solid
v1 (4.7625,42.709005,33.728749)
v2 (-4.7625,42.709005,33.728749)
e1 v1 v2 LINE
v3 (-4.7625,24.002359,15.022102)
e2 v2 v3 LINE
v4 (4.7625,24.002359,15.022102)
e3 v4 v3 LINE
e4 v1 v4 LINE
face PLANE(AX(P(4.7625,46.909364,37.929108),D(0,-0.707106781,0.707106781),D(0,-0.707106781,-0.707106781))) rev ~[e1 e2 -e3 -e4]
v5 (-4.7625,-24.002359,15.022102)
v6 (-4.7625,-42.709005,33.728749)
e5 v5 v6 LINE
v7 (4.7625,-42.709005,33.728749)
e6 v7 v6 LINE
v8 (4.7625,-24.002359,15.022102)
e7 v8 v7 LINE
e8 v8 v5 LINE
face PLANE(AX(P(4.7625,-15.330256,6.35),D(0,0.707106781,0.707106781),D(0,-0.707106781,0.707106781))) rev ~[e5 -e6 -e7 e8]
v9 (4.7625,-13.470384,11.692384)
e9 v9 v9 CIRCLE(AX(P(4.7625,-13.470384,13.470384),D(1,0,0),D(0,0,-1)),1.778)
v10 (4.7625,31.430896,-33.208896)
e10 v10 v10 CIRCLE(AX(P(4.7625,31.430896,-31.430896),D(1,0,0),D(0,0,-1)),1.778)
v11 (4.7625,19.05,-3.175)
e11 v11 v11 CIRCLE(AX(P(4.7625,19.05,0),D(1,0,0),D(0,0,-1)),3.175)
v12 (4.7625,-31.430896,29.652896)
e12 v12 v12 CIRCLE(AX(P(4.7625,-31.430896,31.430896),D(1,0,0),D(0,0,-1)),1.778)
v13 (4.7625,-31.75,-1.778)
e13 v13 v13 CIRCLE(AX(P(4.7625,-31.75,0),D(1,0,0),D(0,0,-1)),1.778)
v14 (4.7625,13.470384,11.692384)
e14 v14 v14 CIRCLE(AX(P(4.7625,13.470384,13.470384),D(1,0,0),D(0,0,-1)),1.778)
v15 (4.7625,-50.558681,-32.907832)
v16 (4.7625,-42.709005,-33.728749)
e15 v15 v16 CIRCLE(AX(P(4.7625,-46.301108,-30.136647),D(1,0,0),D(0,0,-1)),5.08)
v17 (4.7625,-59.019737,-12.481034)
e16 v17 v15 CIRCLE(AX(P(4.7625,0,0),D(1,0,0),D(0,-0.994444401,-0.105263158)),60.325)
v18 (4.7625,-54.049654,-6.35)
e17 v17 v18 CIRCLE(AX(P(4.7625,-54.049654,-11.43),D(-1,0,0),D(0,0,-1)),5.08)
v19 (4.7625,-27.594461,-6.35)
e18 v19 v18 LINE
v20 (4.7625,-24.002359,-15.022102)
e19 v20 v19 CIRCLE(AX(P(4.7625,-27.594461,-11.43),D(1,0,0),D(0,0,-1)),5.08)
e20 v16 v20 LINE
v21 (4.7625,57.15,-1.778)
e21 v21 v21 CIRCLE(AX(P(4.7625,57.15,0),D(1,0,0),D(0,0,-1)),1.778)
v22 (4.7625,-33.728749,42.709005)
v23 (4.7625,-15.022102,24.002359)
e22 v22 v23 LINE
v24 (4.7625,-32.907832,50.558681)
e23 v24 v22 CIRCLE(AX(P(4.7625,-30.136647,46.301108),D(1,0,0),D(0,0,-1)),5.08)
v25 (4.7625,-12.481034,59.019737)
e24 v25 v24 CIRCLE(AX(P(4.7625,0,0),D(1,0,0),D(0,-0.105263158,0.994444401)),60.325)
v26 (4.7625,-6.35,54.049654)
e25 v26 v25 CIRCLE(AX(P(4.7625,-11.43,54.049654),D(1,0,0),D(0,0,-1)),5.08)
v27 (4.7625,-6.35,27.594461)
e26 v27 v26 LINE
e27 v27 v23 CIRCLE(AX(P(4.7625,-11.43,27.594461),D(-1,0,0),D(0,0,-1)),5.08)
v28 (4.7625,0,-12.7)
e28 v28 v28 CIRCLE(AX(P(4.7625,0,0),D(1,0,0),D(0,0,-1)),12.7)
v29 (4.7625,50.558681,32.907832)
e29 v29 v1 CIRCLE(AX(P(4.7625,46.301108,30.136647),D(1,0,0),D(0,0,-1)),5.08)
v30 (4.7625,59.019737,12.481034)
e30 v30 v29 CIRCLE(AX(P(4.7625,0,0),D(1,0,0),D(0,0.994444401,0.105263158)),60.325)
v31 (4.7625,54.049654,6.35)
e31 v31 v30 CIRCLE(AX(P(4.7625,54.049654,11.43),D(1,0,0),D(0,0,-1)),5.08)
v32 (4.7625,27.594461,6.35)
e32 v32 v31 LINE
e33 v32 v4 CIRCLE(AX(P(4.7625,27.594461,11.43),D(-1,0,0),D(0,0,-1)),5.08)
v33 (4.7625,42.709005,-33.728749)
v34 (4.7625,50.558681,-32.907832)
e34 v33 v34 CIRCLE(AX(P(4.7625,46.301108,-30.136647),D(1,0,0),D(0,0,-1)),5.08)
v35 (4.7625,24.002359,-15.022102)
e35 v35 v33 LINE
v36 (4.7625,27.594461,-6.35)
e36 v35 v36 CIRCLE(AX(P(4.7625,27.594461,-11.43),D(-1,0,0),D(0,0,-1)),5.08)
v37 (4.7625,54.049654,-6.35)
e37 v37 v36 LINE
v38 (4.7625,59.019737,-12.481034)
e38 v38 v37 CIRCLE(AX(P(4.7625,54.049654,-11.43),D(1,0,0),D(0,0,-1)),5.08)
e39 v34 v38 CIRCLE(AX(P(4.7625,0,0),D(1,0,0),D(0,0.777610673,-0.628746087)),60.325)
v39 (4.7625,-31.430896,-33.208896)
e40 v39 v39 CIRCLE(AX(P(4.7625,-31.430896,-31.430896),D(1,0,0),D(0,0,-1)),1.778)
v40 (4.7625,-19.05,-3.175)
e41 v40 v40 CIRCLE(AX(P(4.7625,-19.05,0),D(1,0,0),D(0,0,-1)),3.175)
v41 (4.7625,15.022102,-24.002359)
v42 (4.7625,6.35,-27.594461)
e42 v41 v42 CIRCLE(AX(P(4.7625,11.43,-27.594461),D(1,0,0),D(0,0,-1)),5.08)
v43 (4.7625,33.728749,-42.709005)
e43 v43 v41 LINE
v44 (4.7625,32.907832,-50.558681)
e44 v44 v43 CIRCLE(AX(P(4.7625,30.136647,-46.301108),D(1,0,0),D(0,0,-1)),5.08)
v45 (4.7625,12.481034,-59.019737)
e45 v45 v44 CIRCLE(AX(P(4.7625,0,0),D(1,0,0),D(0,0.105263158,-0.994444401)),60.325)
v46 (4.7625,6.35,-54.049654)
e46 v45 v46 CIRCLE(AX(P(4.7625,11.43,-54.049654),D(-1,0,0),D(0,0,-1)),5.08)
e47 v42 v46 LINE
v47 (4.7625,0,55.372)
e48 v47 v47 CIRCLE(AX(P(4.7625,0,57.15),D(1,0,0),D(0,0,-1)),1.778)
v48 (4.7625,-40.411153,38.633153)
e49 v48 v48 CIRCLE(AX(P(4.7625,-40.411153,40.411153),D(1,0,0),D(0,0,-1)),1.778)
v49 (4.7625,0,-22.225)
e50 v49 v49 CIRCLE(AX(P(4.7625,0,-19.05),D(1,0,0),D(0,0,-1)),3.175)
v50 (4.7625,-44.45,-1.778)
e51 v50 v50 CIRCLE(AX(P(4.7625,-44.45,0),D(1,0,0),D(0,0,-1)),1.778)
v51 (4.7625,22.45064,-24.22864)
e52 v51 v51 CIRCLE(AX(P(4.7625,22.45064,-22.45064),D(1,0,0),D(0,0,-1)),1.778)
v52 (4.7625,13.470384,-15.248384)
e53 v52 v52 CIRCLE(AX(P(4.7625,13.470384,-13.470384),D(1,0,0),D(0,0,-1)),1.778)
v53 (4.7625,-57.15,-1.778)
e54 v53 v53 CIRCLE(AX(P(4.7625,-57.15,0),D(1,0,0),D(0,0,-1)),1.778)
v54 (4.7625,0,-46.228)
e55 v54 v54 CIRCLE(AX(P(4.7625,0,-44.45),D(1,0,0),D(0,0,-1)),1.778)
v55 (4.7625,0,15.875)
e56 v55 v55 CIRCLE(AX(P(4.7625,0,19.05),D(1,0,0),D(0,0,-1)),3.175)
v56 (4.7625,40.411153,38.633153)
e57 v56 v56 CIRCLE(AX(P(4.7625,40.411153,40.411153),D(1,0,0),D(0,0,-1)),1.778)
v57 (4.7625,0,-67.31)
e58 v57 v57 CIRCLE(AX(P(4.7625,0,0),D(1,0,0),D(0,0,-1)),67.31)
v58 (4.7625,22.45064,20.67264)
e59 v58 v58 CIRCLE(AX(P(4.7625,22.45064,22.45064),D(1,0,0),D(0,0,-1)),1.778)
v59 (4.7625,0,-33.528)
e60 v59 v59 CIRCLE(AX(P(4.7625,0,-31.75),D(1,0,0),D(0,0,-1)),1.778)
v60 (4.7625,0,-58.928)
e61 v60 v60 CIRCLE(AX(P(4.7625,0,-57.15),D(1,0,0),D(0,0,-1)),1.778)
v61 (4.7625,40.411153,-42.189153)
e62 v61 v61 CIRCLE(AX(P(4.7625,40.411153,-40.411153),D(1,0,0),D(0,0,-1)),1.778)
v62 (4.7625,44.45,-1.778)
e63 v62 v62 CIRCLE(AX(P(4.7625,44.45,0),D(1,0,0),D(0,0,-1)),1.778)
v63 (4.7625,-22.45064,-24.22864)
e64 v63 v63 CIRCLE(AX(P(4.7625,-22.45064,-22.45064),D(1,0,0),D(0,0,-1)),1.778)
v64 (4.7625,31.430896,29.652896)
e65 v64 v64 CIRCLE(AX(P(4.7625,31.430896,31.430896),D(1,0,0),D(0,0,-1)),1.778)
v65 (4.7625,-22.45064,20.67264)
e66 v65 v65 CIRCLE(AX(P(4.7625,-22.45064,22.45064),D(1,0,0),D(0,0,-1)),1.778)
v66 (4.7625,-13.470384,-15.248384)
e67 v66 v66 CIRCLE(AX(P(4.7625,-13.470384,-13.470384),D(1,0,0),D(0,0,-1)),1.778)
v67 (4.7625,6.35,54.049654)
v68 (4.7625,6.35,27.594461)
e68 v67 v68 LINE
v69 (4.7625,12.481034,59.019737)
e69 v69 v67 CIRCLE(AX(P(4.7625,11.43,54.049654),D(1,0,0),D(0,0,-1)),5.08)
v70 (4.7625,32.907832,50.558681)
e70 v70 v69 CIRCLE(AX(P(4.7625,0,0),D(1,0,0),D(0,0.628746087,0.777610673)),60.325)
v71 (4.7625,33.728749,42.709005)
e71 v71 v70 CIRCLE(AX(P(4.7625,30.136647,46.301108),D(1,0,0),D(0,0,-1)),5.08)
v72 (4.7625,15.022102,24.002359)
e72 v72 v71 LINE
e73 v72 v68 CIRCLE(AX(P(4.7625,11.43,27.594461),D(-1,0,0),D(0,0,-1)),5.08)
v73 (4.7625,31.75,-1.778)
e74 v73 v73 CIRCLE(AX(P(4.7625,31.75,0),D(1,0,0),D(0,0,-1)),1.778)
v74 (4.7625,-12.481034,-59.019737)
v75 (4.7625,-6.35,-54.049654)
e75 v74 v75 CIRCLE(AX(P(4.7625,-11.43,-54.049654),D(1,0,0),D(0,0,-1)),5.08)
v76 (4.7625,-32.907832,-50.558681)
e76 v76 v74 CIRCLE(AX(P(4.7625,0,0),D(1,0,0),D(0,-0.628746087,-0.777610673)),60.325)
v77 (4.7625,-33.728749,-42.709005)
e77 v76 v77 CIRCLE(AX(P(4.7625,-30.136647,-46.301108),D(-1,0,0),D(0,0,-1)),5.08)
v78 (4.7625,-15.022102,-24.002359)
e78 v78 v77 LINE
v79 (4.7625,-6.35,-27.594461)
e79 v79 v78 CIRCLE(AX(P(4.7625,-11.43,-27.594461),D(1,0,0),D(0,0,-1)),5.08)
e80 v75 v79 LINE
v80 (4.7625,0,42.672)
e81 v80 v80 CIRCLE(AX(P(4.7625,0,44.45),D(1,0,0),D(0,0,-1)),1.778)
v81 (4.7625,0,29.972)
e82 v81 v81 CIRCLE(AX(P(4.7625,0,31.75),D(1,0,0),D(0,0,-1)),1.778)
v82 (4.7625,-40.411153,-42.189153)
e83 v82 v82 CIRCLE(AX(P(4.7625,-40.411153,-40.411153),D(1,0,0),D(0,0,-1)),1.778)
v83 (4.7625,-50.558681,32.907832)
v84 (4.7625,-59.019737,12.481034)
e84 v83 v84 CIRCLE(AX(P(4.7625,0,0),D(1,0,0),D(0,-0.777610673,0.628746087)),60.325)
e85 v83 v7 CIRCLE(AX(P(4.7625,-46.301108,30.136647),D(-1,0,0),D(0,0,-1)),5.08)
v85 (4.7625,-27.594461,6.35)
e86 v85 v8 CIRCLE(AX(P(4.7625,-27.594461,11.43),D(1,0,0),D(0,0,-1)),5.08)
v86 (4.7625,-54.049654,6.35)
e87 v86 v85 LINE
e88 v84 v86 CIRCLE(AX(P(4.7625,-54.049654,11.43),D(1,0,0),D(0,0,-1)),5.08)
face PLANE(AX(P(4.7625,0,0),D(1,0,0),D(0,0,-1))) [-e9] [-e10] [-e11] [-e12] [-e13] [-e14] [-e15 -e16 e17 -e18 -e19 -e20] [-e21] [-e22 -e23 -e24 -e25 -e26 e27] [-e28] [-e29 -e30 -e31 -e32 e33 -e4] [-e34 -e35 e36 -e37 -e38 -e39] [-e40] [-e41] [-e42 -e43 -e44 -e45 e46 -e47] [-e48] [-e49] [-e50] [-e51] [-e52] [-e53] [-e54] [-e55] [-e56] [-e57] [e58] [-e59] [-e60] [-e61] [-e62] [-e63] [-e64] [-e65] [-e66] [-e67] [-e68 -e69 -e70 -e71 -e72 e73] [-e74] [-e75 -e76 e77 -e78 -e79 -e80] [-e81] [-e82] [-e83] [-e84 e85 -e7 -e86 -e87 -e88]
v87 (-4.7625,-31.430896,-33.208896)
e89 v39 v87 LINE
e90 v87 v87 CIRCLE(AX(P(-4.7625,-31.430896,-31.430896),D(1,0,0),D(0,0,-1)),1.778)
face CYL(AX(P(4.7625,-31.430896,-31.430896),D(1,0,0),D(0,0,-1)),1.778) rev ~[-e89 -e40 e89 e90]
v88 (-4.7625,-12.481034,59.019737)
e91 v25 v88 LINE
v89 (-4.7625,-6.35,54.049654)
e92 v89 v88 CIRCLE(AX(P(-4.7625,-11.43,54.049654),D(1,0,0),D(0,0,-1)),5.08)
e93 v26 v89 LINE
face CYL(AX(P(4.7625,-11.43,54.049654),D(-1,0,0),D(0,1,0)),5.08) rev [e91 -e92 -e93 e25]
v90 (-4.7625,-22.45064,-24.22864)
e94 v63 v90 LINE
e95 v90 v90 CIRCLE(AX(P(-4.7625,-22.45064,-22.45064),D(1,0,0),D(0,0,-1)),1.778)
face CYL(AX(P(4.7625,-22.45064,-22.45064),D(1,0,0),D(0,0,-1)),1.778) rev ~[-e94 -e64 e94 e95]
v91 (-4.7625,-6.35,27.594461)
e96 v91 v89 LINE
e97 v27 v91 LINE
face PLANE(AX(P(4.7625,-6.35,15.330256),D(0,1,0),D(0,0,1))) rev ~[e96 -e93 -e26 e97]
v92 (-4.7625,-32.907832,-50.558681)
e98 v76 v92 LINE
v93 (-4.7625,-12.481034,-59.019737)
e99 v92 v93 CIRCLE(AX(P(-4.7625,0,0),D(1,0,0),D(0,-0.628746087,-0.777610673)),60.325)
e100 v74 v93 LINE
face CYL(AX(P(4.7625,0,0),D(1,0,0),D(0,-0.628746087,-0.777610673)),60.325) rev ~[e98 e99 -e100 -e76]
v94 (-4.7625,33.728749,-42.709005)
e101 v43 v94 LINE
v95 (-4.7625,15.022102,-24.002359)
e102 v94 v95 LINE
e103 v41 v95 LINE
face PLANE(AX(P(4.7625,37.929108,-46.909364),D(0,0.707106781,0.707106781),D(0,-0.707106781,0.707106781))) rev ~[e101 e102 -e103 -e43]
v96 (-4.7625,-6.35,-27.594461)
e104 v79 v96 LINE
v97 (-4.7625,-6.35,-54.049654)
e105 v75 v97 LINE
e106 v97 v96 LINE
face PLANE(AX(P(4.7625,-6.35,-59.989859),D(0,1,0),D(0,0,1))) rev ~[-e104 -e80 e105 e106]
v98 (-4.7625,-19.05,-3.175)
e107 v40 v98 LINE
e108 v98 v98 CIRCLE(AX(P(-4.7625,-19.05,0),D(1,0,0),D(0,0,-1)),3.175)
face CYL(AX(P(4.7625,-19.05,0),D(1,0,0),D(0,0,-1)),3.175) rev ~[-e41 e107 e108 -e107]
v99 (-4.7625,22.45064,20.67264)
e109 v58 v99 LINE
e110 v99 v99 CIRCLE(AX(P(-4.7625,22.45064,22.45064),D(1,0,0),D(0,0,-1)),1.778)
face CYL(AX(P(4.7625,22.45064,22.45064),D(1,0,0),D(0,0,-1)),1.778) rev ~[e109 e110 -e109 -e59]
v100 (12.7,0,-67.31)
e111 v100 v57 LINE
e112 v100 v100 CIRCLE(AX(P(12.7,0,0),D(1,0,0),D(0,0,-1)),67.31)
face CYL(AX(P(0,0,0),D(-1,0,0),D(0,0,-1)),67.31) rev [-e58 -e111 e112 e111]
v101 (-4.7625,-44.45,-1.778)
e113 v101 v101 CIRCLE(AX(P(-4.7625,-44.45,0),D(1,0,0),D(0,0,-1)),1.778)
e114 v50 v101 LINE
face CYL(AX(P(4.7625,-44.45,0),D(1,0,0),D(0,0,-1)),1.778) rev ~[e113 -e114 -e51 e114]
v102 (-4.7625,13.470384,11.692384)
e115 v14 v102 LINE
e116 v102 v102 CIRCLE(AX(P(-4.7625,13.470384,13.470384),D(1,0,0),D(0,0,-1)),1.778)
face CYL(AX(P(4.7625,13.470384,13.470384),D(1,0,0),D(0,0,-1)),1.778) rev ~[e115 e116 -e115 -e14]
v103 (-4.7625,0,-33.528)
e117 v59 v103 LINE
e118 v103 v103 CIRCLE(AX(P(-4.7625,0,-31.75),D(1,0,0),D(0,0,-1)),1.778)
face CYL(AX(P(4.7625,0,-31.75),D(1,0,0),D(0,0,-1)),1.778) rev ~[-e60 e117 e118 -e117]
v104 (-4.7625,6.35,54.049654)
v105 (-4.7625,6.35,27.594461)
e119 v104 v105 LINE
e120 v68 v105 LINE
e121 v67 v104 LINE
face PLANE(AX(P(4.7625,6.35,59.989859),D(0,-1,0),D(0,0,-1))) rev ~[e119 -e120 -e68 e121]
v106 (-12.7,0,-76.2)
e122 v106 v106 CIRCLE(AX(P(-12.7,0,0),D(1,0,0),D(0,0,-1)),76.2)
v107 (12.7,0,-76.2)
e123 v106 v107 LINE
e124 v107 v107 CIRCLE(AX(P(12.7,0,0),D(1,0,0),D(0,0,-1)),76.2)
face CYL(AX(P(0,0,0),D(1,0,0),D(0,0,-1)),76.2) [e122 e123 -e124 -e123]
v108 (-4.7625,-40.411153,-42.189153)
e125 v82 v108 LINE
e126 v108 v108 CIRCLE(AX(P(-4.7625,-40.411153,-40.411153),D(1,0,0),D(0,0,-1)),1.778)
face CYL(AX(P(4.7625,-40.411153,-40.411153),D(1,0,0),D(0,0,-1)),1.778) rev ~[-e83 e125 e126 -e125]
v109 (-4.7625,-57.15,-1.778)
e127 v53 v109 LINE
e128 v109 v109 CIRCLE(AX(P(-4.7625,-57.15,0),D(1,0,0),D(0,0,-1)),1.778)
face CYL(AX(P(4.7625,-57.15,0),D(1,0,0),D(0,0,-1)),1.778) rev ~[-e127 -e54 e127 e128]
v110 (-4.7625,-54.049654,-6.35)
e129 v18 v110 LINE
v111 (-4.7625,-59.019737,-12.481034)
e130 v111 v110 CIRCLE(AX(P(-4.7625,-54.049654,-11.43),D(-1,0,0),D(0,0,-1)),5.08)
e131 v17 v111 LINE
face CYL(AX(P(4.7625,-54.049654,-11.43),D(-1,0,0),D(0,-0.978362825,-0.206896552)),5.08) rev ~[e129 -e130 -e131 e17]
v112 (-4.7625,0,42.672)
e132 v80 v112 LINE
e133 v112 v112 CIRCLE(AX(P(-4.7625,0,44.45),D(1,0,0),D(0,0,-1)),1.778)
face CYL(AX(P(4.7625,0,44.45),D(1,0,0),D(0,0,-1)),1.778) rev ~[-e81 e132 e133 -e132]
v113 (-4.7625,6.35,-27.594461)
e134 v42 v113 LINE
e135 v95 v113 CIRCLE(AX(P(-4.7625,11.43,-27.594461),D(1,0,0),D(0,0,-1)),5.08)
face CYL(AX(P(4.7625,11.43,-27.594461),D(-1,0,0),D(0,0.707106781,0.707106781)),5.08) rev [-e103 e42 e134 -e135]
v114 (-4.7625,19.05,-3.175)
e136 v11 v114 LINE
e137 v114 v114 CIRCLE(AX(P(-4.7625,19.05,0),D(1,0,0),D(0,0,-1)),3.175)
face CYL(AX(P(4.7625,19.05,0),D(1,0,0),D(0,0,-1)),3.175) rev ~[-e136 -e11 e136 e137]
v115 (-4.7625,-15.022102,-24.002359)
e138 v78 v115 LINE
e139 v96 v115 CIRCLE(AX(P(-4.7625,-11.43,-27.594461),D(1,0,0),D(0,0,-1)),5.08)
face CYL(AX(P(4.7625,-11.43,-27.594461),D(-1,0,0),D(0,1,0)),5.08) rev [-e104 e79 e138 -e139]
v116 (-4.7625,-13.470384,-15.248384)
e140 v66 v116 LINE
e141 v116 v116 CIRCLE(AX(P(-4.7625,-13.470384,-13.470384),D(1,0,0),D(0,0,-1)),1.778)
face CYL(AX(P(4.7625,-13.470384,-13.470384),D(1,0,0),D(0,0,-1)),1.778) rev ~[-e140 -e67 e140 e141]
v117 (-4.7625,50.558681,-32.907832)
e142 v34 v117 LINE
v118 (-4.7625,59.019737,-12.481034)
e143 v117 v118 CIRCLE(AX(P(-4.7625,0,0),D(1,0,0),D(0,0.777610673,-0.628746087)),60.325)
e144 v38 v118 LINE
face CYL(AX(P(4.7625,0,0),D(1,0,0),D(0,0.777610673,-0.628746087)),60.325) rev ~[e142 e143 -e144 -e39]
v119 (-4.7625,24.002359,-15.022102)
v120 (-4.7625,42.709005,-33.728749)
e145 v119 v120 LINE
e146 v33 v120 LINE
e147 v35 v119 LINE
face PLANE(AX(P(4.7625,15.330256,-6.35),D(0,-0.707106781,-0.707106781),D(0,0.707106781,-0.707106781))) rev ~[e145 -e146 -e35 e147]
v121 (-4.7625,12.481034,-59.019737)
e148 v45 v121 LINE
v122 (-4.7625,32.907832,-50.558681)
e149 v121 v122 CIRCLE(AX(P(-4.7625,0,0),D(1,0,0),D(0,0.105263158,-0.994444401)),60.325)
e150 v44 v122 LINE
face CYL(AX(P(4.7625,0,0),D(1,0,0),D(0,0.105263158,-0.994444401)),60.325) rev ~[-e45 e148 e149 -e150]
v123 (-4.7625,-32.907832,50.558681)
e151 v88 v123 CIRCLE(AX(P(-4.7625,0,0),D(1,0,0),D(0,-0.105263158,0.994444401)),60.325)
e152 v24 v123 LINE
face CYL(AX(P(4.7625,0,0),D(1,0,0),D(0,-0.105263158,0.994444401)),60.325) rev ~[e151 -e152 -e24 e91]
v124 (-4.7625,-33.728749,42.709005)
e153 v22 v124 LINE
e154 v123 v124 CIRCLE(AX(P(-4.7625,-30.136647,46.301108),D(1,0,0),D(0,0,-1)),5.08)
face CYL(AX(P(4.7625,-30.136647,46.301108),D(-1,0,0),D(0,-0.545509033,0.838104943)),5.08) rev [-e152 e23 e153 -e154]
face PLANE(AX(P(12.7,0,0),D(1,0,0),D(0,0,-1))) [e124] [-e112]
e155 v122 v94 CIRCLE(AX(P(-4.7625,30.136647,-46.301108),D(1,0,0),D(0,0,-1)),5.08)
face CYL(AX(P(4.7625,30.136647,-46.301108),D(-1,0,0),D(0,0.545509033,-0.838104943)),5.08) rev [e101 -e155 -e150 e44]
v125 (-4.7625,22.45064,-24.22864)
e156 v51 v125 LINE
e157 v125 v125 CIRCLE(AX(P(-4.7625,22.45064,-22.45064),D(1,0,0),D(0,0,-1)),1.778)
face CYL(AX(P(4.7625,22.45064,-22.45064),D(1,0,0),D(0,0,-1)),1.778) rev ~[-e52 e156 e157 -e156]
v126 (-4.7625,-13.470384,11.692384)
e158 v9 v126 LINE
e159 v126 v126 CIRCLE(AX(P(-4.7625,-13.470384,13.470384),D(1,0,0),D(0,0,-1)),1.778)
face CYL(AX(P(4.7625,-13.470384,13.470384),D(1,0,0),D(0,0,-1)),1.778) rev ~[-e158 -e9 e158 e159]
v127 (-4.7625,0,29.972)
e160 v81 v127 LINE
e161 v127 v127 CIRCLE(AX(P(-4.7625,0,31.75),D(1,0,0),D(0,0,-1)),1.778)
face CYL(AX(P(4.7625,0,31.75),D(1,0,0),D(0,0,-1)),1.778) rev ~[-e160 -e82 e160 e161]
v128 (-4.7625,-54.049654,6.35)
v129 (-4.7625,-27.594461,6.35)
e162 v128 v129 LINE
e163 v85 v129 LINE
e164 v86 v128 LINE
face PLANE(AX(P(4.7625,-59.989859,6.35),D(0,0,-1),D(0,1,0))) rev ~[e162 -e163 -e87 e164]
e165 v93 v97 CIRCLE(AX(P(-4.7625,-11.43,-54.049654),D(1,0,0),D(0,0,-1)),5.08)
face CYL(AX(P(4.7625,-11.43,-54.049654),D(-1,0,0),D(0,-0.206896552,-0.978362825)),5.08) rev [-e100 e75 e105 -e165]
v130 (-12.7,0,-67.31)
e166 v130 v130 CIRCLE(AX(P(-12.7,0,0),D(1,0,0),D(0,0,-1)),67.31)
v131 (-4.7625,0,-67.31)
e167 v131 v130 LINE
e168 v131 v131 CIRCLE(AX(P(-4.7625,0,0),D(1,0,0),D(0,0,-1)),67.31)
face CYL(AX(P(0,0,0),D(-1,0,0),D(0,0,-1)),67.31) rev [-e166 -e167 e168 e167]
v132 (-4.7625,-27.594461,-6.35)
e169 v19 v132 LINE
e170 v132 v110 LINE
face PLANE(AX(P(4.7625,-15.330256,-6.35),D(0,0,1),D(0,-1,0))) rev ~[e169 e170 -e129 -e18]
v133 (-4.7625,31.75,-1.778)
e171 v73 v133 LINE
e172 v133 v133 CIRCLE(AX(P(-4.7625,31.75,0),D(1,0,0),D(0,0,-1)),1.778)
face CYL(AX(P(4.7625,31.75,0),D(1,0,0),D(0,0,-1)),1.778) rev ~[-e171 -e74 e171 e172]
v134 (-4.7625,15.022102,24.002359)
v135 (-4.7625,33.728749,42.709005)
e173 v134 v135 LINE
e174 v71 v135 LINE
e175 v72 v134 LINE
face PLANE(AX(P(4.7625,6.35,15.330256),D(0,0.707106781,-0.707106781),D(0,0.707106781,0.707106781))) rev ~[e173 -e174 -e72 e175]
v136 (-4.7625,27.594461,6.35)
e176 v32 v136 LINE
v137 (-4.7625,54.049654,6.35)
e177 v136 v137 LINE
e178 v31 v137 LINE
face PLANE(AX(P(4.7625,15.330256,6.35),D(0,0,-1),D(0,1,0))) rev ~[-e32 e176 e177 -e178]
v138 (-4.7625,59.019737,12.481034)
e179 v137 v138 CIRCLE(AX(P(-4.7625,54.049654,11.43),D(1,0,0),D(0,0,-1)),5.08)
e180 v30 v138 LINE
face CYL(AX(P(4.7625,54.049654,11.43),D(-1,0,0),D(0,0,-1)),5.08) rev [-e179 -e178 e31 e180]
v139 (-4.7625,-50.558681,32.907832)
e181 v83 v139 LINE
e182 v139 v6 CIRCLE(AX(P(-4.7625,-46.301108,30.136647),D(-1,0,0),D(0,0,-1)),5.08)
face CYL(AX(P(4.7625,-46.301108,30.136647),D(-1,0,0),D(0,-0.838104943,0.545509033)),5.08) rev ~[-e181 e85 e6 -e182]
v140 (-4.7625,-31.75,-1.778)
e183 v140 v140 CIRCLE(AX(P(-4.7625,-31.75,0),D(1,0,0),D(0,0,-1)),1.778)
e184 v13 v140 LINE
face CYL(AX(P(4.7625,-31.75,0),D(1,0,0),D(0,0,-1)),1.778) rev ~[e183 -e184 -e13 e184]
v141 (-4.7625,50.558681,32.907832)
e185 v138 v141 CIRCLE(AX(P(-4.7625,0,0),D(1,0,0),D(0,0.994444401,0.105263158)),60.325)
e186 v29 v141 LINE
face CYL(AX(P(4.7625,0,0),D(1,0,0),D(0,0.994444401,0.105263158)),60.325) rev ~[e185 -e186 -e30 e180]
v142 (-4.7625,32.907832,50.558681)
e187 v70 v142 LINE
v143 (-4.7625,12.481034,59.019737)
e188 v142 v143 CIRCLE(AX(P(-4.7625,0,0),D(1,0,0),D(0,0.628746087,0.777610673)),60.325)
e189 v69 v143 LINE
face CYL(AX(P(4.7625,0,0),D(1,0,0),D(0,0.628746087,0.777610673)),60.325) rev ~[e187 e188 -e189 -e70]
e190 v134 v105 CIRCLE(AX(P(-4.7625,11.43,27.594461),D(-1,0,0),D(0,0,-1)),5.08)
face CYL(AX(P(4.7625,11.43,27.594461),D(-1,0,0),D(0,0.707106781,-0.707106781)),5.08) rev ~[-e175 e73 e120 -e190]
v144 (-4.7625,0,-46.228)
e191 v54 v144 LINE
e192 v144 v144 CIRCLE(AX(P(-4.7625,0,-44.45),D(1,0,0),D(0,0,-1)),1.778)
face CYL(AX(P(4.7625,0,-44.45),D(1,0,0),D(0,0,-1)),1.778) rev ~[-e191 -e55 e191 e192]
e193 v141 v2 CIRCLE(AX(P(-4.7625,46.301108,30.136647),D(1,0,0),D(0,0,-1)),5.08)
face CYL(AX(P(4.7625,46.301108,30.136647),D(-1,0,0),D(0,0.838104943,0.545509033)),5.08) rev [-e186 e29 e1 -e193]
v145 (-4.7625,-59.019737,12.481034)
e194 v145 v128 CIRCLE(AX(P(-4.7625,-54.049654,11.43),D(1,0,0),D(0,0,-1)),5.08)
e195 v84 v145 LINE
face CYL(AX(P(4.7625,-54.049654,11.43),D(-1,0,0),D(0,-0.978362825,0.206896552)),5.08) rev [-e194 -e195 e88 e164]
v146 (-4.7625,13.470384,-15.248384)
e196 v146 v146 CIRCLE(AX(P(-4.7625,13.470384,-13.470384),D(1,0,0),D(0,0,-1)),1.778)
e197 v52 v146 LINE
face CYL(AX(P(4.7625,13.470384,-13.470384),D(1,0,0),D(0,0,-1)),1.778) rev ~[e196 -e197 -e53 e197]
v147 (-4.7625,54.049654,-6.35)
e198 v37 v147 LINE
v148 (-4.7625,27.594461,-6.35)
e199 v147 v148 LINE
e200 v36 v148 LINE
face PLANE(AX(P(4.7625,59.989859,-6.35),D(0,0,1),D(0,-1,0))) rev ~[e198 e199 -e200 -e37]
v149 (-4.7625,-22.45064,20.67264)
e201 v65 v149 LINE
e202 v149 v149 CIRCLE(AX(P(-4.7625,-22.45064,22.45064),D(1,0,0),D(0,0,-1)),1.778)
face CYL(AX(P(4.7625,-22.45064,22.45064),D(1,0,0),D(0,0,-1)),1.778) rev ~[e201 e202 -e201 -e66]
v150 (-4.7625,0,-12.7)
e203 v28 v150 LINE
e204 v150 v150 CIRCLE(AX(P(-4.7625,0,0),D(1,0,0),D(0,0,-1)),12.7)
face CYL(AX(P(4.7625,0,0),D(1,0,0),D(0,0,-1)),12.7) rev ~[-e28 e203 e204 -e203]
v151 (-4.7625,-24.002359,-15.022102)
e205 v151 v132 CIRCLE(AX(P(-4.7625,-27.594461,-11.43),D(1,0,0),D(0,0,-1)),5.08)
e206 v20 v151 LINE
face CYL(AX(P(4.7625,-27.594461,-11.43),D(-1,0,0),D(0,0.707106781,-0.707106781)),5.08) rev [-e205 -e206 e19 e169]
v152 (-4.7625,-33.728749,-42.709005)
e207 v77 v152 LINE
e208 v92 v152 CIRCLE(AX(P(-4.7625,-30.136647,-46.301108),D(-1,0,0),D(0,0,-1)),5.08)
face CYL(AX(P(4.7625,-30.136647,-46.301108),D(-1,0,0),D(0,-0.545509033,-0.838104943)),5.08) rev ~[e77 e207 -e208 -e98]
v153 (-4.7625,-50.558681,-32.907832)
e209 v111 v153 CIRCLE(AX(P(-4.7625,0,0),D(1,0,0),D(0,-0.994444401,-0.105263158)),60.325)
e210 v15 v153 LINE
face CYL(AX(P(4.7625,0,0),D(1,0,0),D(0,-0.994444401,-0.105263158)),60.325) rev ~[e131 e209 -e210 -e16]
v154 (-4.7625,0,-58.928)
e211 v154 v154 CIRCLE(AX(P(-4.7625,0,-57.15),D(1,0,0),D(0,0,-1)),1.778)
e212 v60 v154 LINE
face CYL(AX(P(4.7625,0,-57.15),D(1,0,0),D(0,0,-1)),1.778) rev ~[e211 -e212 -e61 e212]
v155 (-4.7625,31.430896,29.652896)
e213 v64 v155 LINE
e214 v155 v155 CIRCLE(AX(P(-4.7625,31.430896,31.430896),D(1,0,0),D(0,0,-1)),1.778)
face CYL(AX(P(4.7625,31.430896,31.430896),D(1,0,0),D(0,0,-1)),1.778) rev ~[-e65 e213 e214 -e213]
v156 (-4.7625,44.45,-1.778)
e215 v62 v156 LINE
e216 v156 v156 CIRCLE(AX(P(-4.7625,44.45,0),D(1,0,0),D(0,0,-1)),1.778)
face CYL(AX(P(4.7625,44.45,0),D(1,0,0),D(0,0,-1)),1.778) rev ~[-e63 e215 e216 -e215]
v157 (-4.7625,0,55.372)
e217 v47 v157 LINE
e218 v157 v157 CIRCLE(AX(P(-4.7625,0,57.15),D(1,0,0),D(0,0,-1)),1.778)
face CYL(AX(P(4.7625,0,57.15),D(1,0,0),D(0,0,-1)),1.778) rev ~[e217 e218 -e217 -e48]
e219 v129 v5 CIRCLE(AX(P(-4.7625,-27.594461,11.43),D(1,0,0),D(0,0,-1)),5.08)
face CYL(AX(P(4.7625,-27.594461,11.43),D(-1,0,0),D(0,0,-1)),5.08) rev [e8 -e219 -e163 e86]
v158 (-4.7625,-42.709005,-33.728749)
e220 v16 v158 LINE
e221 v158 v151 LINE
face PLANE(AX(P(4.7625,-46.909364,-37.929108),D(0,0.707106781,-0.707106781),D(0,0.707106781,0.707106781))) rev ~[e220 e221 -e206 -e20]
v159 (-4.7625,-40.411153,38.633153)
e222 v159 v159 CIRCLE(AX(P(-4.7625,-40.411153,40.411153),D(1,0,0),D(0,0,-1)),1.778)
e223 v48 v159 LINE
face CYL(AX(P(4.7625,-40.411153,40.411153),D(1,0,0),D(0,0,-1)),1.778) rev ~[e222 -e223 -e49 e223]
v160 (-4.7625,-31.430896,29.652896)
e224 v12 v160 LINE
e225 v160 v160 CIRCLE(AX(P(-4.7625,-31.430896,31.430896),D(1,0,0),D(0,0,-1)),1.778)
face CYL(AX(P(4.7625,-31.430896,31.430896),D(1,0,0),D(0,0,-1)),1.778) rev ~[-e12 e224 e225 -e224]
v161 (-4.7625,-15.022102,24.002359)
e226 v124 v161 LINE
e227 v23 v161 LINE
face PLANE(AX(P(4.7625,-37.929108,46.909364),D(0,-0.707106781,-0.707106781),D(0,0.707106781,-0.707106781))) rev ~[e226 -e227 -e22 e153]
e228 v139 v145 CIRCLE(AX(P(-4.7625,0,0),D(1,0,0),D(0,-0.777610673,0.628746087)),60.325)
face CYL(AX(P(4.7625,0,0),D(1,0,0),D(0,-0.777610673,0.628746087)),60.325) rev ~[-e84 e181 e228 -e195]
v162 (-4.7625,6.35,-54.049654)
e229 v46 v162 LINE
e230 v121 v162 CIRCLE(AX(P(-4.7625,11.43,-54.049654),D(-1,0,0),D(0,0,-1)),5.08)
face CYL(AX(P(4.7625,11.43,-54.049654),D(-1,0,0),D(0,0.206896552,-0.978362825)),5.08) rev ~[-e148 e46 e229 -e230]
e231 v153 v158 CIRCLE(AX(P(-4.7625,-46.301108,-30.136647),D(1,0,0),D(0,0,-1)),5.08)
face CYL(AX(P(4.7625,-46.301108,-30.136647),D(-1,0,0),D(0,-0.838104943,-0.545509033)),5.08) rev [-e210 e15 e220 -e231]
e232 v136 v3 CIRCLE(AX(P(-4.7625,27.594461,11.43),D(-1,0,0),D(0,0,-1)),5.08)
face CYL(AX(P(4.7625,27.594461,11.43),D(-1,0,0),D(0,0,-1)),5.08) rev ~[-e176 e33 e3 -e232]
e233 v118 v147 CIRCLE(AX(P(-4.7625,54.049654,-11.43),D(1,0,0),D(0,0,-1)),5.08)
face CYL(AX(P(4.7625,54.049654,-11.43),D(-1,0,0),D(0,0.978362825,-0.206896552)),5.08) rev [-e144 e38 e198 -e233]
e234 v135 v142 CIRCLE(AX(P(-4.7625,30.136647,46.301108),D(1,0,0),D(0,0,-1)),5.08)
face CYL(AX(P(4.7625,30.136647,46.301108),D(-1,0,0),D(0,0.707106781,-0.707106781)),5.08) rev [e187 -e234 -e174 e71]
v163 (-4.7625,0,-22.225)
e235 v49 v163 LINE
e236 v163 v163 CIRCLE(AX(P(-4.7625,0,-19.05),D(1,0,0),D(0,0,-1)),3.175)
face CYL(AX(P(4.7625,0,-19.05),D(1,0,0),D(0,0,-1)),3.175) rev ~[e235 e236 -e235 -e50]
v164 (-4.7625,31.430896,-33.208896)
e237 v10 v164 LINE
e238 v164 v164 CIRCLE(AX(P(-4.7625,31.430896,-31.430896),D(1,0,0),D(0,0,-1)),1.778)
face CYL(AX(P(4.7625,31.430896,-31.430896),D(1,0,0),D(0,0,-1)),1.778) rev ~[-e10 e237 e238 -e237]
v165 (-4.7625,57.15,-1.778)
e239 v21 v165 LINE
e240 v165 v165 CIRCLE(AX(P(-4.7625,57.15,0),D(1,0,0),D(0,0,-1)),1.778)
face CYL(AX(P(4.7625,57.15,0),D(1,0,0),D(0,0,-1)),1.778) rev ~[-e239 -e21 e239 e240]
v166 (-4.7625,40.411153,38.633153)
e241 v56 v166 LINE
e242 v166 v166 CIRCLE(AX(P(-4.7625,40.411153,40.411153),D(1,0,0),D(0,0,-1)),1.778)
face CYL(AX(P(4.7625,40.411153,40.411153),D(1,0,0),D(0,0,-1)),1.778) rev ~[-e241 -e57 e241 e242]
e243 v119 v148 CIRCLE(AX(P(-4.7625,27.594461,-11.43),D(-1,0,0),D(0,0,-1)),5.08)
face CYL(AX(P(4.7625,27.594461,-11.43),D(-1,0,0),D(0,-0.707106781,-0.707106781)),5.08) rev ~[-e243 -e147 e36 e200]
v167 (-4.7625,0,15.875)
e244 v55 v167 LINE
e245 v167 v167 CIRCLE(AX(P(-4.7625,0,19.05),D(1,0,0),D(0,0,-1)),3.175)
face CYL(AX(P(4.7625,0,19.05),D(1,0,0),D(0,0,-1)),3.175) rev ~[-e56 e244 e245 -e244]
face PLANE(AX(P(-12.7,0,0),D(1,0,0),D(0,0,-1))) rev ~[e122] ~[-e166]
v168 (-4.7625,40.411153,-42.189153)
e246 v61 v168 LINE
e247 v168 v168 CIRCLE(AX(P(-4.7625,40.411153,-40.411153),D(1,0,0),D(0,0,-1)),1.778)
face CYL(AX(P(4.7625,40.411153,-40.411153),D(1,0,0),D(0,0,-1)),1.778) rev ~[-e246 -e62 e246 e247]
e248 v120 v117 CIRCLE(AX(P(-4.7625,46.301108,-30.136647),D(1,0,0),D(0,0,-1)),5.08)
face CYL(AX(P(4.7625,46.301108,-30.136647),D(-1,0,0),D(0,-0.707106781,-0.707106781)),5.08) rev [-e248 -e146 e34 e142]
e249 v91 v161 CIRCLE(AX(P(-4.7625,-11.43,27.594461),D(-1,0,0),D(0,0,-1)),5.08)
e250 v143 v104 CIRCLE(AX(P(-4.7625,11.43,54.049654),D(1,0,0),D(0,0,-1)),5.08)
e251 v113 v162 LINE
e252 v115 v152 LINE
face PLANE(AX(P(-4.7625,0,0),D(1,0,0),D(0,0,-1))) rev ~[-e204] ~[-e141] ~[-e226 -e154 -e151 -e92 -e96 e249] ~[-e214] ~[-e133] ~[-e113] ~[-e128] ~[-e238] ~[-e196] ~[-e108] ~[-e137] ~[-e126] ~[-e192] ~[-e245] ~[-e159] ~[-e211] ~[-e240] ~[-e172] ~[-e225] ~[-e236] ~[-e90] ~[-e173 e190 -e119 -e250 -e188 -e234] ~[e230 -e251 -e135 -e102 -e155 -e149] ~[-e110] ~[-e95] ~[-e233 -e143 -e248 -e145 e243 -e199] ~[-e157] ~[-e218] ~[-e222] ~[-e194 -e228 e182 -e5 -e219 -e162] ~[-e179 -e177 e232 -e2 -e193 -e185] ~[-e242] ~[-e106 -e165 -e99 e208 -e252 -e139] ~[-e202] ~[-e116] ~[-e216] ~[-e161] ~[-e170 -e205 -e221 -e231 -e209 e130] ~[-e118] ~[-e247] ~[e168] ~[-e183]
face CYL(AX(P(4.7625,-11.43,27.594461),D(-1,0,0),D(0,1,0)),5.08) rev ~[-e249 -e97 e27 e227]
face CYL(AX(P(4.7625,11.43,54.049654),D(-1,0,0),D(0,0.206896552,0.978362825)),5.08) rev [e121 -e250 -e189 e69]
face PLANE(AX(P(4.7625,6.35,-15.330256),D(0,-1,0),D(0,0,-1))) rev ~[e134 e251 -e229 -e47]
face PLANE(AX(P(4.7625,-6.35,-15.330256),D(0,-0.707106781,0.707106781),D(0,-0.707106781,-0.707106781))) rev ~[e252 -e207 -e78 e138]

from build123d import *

# Parameters (mm, degrees)
SKETCH_1_R          = 67.31
EXTRUDE_1_DEPTH     = 4.7625
SKETCH_2_R          = 12.7
SKETCH_2_R_2        = 3.175
SKETCH_2_R_3        = 1.778
CUT_EXTRUDE_1_DEPTH = 96.666074577
FILLET_1_R          = 5.08
SKETCH_3_R          = 76.2
SKETCH_3_R_2        = 67.31
EXTRUDE_2_DEPTH     = 12.7


with BuildPart() as part:
    # ｽｹｯﾁ1 → ﾎﾞｽ - 押し出し1 (new, symmetric)
    with BuildSketch(Plane(origin=(0, 0, 0), x_dir=(0, 0, -1), z_dir=(1, 0, 0))):
        Circle(SKETCH_1_R)
    extrude(amount=EXTRUDE_1_DEPTH, both=True)

    # ｽｹｯﾁ2 → ｶｯﾄ - 押し出し1 (cut, through all)
    with BuildSketch(Plane(origin=(4.7625, 0, 0), x_dir=(0, 0, -1), z_dir=(1, 0, 0))):
        with BuildLine():
            Line((6.35, 15.330256121), (37.9291077, 46.909363821))
            ThreePointArc((37.9291077, 46.909363821), (23.085378057, 55.733032799), (6.35, 59.989858518))
            Line((6.35, 59.989858518), (6.35, 15.330256121))
        make_face()
        with BuildLine():
            ThreePointArc((59.989858518, 6.35), (55.733032799, 23.085378057), (46.909363821, 37.9291077))
            Line((46.909363821, 37.9291077), (15.330256121, 6.35))
            Line((15.330256121, 6.35), (59.989858518, 6.35))
        make_face()
        Circle(SKETCH_2_R)
        with BuildLine():
            Line((-6.35, 15.330256121), (-6.35, 59.989858518))
            ThreePointArc((-6.35, 59.989858518), (-23.085378057, 55.733032799), (-37.9291077, 46.909363821))
            Line((-37.9291077, 46.909363821), (-6.35, 15.330256121))
        make_face()
        with BuildLine():
            ThreePointArc((46.909363821, -37.9291077), (55.733032799, -23.085378057), (59.989858518, -6.35))
            Line((59.989858518, -6.35), (15.330256121, -6.35))
            Line((15.330256121, -6.35), (46.909363821, -37.9291077))
        make_face()
        with BuildLine():
            Line((-15.330256121, 6.35), (-46.909363821, 37.9291077))
            ThreePointArc((-46.909363821, 37.9291077), (-55.733032799, 23.085378057), (-59.989858518, 6.35))
            Line((-59.989858518, 6.35), (-15.330256121, 6.35))
        make_face()
        with BuildLine():
            ThreePointArc((6.35, -59.989858518), (23.085378057, -55.733032799), (37.9291077, -46.909363821))
            Line((37.9291077, -46.909363821), (6.35, -15.330256121))
            Line((6.35, -15.330256121), (6.35, -59.989858518))
        make_face()
        with BuildLine():
            Line((-15.330256121, -6.35), (-59.989858518, -6.35))
            ThreePointArc((-59.989858518, -6.35), (-55.733032799, -23.085378057), (-46.909363821, -37.9291077))
            Line((-46.909363821, -37.9291077), (-15.330256121, -6.35))
        make_face()
        with BuildLine():
            ThreePointArc((-37.9291077, -46.909363821), (-23.085378057, -55.733032799), (-6.35, -59.989858518))
            Line((-6.35, -59.989858518), (-6.35, -15.330256121))
            Line((-6.35, -15.330256121), (-37.9291077, -46.909363821))
        make_face()
        with Locations((0, 19.05)):
            Circle(SKETCH_2_R_2)
        with Locations((19.05, 0)):
            Circle(SKETCH_2_R_2)
        with Locations((0, -19.05)):
            Circle(SKETCH_2_R_2)
        with Locations((-19.05, 0)):
            Circle(SKETCH_2_R_2)
        with Locations((0, 31.75)):
            Circle(SKETCH_2_R_3)
        with Locations((0, 44.45)):
            Circle(SKETCH_2_R_3)
        with Locations((0, 57.15)):
            Circle(SKETCH_2_R_3)
        with Locations((0, -57.15)):
            Circle(SKETCH_2_R_3)
        with Locations((0, -44.45)):
            Circle(SKETCH_2_R_3)
        with Locations((0, -31.75)):
            Circle(SKETCH_2_R_3)
        with Locations((-40.411152545, -40.411152545)):
            Circle(SKETCH_2_R_3)
        with Locations((-31.430896424, -31.430896424)):
            Circle(SKETCH_2_R_3)
        with Locations((-22.450640303, -22.450640303)):
            Circle(SKETCH_2_R_3)
        with Locations((22.450640303, 22.450640303)):
            Circle(SKETCH_2_R_3)
        with Locations((31.430896424, 31.430896424)):
            Circle(SKETCH_2_R_3)
        with Locations((40.411152545, 40.411152545)):
            Circle(SKETCH_2_R_3)
        with Locations((-57.15, 0)):
            Circle(SKETCH_2_R_3)
        with Locations((-44.45, 0)):
            Circle(SKETCH_2_R_3)
        with Locations((-31.75, 0)):
            Circle(SKETCH_2_R_3)
        with Locations((31.75, 0)):
            Circle(SKETCH_2_R_3)
        with Locations((44.45, 0)):
            Circle(SKETCH_2_R_3)
        with Locations((57.15, 0)):
            Circle(SKETCH_2_R_3)
        with Locations((-40.411152545, 40.411152545)):
            Circle(SKETCH_2_R_3)
        with Locations((-31.430896424, 31.430896424)):
            Circle(SKETCH_2_R_3)
        with Locations((-22.450640303, 22.450640303)):
            Circle(SKETCH_2_R_3)
        with Locations((22.450640303, -22.450640303)):
            Circle(SKETCH_2_R_3)
        with Locations((31.430896424, -31.430896424)):
            Circle(SKETCH_2_R_3)
        with Locations((40.411152545, -40.411152545)):
            Circle(SKETCH_2_R_3)
        with Locations((13.470384182, 13.470384182)):
            Circle(SKETCH_2_R_3)
        with Locations((13.470384182, -13.470384182)):
            Circle(SKETCH_2_R_3)
        with Locations((-13.470384182, -13.470384182)):
            Circle(SKETCH_2_R_3)
        with Locations((-13.470384182, 13.470384182)):
            Circle(SKETCH_2_R_3)
    extrude(amount=-CUT_EXTRUDE_1_DEPTH, mode=Mode.SUBTRACT)

    # ﾌｨﾚｯﾄ1
    fillet_1_edges = [part.edges().sort_by_distance(p)[0] for p in [
        (0, 59.989858518, -6.35),
        (0, 15.330256121, -6.35),
        (0, 46.909363821, -37.9291077),
        (0, 6.35, 59.989858518),
        (0, -37.9291077, 46.909363821),
        (0, -46.909363821, 37.9291077),
        (0, -6.35, 59.989858518),
        (0, 37.9291077, 46.909363821),
        (0, 6.35, 15.330256121),
        (0, -6.35, 15.330256121),
        (0, -15.330256121, 6.35),
        (0, -59.989858518, 6.35),
        (0, -46.909363821, -37.9291077),
        (0, -59.989858518, -6.35),
        (0, -15.330256121, -6.35),
        (0, 6.35, -15.330256121),
        (0, -6.35, -15.330256121),
        (0, -37.9291077, -46.909363821),
        (0, 6.35, -59.989858518),
        (0, 37.9291077, -46.909363821),
        (0, -6.35, -59.989858518),
        (0, 59.989858518, 6.35),
        (0, 46.909363821, 37.9291077),
        (0, 15.330256121, 6.35),
    ]]
    fillet(fillet_1_edges, radius=FILLET_1_R)

    # ｽｹｯﾁ3 → ﾎﾞｽ - 押し出し2 (add, symmetric)
    with BuildSketch(Plane(origin=(0, 0, 0), x_dir=(0, 0, -1), z_dir=(1, 0, 0))):
        Circle(SKETCH_3_R)
        Circle(SKETCH_3_R_2, mode=Mode.SUBTRACT)
    extrude(amount=EXTRUDE_2_DEPTH, both=True)


solid = part.part
